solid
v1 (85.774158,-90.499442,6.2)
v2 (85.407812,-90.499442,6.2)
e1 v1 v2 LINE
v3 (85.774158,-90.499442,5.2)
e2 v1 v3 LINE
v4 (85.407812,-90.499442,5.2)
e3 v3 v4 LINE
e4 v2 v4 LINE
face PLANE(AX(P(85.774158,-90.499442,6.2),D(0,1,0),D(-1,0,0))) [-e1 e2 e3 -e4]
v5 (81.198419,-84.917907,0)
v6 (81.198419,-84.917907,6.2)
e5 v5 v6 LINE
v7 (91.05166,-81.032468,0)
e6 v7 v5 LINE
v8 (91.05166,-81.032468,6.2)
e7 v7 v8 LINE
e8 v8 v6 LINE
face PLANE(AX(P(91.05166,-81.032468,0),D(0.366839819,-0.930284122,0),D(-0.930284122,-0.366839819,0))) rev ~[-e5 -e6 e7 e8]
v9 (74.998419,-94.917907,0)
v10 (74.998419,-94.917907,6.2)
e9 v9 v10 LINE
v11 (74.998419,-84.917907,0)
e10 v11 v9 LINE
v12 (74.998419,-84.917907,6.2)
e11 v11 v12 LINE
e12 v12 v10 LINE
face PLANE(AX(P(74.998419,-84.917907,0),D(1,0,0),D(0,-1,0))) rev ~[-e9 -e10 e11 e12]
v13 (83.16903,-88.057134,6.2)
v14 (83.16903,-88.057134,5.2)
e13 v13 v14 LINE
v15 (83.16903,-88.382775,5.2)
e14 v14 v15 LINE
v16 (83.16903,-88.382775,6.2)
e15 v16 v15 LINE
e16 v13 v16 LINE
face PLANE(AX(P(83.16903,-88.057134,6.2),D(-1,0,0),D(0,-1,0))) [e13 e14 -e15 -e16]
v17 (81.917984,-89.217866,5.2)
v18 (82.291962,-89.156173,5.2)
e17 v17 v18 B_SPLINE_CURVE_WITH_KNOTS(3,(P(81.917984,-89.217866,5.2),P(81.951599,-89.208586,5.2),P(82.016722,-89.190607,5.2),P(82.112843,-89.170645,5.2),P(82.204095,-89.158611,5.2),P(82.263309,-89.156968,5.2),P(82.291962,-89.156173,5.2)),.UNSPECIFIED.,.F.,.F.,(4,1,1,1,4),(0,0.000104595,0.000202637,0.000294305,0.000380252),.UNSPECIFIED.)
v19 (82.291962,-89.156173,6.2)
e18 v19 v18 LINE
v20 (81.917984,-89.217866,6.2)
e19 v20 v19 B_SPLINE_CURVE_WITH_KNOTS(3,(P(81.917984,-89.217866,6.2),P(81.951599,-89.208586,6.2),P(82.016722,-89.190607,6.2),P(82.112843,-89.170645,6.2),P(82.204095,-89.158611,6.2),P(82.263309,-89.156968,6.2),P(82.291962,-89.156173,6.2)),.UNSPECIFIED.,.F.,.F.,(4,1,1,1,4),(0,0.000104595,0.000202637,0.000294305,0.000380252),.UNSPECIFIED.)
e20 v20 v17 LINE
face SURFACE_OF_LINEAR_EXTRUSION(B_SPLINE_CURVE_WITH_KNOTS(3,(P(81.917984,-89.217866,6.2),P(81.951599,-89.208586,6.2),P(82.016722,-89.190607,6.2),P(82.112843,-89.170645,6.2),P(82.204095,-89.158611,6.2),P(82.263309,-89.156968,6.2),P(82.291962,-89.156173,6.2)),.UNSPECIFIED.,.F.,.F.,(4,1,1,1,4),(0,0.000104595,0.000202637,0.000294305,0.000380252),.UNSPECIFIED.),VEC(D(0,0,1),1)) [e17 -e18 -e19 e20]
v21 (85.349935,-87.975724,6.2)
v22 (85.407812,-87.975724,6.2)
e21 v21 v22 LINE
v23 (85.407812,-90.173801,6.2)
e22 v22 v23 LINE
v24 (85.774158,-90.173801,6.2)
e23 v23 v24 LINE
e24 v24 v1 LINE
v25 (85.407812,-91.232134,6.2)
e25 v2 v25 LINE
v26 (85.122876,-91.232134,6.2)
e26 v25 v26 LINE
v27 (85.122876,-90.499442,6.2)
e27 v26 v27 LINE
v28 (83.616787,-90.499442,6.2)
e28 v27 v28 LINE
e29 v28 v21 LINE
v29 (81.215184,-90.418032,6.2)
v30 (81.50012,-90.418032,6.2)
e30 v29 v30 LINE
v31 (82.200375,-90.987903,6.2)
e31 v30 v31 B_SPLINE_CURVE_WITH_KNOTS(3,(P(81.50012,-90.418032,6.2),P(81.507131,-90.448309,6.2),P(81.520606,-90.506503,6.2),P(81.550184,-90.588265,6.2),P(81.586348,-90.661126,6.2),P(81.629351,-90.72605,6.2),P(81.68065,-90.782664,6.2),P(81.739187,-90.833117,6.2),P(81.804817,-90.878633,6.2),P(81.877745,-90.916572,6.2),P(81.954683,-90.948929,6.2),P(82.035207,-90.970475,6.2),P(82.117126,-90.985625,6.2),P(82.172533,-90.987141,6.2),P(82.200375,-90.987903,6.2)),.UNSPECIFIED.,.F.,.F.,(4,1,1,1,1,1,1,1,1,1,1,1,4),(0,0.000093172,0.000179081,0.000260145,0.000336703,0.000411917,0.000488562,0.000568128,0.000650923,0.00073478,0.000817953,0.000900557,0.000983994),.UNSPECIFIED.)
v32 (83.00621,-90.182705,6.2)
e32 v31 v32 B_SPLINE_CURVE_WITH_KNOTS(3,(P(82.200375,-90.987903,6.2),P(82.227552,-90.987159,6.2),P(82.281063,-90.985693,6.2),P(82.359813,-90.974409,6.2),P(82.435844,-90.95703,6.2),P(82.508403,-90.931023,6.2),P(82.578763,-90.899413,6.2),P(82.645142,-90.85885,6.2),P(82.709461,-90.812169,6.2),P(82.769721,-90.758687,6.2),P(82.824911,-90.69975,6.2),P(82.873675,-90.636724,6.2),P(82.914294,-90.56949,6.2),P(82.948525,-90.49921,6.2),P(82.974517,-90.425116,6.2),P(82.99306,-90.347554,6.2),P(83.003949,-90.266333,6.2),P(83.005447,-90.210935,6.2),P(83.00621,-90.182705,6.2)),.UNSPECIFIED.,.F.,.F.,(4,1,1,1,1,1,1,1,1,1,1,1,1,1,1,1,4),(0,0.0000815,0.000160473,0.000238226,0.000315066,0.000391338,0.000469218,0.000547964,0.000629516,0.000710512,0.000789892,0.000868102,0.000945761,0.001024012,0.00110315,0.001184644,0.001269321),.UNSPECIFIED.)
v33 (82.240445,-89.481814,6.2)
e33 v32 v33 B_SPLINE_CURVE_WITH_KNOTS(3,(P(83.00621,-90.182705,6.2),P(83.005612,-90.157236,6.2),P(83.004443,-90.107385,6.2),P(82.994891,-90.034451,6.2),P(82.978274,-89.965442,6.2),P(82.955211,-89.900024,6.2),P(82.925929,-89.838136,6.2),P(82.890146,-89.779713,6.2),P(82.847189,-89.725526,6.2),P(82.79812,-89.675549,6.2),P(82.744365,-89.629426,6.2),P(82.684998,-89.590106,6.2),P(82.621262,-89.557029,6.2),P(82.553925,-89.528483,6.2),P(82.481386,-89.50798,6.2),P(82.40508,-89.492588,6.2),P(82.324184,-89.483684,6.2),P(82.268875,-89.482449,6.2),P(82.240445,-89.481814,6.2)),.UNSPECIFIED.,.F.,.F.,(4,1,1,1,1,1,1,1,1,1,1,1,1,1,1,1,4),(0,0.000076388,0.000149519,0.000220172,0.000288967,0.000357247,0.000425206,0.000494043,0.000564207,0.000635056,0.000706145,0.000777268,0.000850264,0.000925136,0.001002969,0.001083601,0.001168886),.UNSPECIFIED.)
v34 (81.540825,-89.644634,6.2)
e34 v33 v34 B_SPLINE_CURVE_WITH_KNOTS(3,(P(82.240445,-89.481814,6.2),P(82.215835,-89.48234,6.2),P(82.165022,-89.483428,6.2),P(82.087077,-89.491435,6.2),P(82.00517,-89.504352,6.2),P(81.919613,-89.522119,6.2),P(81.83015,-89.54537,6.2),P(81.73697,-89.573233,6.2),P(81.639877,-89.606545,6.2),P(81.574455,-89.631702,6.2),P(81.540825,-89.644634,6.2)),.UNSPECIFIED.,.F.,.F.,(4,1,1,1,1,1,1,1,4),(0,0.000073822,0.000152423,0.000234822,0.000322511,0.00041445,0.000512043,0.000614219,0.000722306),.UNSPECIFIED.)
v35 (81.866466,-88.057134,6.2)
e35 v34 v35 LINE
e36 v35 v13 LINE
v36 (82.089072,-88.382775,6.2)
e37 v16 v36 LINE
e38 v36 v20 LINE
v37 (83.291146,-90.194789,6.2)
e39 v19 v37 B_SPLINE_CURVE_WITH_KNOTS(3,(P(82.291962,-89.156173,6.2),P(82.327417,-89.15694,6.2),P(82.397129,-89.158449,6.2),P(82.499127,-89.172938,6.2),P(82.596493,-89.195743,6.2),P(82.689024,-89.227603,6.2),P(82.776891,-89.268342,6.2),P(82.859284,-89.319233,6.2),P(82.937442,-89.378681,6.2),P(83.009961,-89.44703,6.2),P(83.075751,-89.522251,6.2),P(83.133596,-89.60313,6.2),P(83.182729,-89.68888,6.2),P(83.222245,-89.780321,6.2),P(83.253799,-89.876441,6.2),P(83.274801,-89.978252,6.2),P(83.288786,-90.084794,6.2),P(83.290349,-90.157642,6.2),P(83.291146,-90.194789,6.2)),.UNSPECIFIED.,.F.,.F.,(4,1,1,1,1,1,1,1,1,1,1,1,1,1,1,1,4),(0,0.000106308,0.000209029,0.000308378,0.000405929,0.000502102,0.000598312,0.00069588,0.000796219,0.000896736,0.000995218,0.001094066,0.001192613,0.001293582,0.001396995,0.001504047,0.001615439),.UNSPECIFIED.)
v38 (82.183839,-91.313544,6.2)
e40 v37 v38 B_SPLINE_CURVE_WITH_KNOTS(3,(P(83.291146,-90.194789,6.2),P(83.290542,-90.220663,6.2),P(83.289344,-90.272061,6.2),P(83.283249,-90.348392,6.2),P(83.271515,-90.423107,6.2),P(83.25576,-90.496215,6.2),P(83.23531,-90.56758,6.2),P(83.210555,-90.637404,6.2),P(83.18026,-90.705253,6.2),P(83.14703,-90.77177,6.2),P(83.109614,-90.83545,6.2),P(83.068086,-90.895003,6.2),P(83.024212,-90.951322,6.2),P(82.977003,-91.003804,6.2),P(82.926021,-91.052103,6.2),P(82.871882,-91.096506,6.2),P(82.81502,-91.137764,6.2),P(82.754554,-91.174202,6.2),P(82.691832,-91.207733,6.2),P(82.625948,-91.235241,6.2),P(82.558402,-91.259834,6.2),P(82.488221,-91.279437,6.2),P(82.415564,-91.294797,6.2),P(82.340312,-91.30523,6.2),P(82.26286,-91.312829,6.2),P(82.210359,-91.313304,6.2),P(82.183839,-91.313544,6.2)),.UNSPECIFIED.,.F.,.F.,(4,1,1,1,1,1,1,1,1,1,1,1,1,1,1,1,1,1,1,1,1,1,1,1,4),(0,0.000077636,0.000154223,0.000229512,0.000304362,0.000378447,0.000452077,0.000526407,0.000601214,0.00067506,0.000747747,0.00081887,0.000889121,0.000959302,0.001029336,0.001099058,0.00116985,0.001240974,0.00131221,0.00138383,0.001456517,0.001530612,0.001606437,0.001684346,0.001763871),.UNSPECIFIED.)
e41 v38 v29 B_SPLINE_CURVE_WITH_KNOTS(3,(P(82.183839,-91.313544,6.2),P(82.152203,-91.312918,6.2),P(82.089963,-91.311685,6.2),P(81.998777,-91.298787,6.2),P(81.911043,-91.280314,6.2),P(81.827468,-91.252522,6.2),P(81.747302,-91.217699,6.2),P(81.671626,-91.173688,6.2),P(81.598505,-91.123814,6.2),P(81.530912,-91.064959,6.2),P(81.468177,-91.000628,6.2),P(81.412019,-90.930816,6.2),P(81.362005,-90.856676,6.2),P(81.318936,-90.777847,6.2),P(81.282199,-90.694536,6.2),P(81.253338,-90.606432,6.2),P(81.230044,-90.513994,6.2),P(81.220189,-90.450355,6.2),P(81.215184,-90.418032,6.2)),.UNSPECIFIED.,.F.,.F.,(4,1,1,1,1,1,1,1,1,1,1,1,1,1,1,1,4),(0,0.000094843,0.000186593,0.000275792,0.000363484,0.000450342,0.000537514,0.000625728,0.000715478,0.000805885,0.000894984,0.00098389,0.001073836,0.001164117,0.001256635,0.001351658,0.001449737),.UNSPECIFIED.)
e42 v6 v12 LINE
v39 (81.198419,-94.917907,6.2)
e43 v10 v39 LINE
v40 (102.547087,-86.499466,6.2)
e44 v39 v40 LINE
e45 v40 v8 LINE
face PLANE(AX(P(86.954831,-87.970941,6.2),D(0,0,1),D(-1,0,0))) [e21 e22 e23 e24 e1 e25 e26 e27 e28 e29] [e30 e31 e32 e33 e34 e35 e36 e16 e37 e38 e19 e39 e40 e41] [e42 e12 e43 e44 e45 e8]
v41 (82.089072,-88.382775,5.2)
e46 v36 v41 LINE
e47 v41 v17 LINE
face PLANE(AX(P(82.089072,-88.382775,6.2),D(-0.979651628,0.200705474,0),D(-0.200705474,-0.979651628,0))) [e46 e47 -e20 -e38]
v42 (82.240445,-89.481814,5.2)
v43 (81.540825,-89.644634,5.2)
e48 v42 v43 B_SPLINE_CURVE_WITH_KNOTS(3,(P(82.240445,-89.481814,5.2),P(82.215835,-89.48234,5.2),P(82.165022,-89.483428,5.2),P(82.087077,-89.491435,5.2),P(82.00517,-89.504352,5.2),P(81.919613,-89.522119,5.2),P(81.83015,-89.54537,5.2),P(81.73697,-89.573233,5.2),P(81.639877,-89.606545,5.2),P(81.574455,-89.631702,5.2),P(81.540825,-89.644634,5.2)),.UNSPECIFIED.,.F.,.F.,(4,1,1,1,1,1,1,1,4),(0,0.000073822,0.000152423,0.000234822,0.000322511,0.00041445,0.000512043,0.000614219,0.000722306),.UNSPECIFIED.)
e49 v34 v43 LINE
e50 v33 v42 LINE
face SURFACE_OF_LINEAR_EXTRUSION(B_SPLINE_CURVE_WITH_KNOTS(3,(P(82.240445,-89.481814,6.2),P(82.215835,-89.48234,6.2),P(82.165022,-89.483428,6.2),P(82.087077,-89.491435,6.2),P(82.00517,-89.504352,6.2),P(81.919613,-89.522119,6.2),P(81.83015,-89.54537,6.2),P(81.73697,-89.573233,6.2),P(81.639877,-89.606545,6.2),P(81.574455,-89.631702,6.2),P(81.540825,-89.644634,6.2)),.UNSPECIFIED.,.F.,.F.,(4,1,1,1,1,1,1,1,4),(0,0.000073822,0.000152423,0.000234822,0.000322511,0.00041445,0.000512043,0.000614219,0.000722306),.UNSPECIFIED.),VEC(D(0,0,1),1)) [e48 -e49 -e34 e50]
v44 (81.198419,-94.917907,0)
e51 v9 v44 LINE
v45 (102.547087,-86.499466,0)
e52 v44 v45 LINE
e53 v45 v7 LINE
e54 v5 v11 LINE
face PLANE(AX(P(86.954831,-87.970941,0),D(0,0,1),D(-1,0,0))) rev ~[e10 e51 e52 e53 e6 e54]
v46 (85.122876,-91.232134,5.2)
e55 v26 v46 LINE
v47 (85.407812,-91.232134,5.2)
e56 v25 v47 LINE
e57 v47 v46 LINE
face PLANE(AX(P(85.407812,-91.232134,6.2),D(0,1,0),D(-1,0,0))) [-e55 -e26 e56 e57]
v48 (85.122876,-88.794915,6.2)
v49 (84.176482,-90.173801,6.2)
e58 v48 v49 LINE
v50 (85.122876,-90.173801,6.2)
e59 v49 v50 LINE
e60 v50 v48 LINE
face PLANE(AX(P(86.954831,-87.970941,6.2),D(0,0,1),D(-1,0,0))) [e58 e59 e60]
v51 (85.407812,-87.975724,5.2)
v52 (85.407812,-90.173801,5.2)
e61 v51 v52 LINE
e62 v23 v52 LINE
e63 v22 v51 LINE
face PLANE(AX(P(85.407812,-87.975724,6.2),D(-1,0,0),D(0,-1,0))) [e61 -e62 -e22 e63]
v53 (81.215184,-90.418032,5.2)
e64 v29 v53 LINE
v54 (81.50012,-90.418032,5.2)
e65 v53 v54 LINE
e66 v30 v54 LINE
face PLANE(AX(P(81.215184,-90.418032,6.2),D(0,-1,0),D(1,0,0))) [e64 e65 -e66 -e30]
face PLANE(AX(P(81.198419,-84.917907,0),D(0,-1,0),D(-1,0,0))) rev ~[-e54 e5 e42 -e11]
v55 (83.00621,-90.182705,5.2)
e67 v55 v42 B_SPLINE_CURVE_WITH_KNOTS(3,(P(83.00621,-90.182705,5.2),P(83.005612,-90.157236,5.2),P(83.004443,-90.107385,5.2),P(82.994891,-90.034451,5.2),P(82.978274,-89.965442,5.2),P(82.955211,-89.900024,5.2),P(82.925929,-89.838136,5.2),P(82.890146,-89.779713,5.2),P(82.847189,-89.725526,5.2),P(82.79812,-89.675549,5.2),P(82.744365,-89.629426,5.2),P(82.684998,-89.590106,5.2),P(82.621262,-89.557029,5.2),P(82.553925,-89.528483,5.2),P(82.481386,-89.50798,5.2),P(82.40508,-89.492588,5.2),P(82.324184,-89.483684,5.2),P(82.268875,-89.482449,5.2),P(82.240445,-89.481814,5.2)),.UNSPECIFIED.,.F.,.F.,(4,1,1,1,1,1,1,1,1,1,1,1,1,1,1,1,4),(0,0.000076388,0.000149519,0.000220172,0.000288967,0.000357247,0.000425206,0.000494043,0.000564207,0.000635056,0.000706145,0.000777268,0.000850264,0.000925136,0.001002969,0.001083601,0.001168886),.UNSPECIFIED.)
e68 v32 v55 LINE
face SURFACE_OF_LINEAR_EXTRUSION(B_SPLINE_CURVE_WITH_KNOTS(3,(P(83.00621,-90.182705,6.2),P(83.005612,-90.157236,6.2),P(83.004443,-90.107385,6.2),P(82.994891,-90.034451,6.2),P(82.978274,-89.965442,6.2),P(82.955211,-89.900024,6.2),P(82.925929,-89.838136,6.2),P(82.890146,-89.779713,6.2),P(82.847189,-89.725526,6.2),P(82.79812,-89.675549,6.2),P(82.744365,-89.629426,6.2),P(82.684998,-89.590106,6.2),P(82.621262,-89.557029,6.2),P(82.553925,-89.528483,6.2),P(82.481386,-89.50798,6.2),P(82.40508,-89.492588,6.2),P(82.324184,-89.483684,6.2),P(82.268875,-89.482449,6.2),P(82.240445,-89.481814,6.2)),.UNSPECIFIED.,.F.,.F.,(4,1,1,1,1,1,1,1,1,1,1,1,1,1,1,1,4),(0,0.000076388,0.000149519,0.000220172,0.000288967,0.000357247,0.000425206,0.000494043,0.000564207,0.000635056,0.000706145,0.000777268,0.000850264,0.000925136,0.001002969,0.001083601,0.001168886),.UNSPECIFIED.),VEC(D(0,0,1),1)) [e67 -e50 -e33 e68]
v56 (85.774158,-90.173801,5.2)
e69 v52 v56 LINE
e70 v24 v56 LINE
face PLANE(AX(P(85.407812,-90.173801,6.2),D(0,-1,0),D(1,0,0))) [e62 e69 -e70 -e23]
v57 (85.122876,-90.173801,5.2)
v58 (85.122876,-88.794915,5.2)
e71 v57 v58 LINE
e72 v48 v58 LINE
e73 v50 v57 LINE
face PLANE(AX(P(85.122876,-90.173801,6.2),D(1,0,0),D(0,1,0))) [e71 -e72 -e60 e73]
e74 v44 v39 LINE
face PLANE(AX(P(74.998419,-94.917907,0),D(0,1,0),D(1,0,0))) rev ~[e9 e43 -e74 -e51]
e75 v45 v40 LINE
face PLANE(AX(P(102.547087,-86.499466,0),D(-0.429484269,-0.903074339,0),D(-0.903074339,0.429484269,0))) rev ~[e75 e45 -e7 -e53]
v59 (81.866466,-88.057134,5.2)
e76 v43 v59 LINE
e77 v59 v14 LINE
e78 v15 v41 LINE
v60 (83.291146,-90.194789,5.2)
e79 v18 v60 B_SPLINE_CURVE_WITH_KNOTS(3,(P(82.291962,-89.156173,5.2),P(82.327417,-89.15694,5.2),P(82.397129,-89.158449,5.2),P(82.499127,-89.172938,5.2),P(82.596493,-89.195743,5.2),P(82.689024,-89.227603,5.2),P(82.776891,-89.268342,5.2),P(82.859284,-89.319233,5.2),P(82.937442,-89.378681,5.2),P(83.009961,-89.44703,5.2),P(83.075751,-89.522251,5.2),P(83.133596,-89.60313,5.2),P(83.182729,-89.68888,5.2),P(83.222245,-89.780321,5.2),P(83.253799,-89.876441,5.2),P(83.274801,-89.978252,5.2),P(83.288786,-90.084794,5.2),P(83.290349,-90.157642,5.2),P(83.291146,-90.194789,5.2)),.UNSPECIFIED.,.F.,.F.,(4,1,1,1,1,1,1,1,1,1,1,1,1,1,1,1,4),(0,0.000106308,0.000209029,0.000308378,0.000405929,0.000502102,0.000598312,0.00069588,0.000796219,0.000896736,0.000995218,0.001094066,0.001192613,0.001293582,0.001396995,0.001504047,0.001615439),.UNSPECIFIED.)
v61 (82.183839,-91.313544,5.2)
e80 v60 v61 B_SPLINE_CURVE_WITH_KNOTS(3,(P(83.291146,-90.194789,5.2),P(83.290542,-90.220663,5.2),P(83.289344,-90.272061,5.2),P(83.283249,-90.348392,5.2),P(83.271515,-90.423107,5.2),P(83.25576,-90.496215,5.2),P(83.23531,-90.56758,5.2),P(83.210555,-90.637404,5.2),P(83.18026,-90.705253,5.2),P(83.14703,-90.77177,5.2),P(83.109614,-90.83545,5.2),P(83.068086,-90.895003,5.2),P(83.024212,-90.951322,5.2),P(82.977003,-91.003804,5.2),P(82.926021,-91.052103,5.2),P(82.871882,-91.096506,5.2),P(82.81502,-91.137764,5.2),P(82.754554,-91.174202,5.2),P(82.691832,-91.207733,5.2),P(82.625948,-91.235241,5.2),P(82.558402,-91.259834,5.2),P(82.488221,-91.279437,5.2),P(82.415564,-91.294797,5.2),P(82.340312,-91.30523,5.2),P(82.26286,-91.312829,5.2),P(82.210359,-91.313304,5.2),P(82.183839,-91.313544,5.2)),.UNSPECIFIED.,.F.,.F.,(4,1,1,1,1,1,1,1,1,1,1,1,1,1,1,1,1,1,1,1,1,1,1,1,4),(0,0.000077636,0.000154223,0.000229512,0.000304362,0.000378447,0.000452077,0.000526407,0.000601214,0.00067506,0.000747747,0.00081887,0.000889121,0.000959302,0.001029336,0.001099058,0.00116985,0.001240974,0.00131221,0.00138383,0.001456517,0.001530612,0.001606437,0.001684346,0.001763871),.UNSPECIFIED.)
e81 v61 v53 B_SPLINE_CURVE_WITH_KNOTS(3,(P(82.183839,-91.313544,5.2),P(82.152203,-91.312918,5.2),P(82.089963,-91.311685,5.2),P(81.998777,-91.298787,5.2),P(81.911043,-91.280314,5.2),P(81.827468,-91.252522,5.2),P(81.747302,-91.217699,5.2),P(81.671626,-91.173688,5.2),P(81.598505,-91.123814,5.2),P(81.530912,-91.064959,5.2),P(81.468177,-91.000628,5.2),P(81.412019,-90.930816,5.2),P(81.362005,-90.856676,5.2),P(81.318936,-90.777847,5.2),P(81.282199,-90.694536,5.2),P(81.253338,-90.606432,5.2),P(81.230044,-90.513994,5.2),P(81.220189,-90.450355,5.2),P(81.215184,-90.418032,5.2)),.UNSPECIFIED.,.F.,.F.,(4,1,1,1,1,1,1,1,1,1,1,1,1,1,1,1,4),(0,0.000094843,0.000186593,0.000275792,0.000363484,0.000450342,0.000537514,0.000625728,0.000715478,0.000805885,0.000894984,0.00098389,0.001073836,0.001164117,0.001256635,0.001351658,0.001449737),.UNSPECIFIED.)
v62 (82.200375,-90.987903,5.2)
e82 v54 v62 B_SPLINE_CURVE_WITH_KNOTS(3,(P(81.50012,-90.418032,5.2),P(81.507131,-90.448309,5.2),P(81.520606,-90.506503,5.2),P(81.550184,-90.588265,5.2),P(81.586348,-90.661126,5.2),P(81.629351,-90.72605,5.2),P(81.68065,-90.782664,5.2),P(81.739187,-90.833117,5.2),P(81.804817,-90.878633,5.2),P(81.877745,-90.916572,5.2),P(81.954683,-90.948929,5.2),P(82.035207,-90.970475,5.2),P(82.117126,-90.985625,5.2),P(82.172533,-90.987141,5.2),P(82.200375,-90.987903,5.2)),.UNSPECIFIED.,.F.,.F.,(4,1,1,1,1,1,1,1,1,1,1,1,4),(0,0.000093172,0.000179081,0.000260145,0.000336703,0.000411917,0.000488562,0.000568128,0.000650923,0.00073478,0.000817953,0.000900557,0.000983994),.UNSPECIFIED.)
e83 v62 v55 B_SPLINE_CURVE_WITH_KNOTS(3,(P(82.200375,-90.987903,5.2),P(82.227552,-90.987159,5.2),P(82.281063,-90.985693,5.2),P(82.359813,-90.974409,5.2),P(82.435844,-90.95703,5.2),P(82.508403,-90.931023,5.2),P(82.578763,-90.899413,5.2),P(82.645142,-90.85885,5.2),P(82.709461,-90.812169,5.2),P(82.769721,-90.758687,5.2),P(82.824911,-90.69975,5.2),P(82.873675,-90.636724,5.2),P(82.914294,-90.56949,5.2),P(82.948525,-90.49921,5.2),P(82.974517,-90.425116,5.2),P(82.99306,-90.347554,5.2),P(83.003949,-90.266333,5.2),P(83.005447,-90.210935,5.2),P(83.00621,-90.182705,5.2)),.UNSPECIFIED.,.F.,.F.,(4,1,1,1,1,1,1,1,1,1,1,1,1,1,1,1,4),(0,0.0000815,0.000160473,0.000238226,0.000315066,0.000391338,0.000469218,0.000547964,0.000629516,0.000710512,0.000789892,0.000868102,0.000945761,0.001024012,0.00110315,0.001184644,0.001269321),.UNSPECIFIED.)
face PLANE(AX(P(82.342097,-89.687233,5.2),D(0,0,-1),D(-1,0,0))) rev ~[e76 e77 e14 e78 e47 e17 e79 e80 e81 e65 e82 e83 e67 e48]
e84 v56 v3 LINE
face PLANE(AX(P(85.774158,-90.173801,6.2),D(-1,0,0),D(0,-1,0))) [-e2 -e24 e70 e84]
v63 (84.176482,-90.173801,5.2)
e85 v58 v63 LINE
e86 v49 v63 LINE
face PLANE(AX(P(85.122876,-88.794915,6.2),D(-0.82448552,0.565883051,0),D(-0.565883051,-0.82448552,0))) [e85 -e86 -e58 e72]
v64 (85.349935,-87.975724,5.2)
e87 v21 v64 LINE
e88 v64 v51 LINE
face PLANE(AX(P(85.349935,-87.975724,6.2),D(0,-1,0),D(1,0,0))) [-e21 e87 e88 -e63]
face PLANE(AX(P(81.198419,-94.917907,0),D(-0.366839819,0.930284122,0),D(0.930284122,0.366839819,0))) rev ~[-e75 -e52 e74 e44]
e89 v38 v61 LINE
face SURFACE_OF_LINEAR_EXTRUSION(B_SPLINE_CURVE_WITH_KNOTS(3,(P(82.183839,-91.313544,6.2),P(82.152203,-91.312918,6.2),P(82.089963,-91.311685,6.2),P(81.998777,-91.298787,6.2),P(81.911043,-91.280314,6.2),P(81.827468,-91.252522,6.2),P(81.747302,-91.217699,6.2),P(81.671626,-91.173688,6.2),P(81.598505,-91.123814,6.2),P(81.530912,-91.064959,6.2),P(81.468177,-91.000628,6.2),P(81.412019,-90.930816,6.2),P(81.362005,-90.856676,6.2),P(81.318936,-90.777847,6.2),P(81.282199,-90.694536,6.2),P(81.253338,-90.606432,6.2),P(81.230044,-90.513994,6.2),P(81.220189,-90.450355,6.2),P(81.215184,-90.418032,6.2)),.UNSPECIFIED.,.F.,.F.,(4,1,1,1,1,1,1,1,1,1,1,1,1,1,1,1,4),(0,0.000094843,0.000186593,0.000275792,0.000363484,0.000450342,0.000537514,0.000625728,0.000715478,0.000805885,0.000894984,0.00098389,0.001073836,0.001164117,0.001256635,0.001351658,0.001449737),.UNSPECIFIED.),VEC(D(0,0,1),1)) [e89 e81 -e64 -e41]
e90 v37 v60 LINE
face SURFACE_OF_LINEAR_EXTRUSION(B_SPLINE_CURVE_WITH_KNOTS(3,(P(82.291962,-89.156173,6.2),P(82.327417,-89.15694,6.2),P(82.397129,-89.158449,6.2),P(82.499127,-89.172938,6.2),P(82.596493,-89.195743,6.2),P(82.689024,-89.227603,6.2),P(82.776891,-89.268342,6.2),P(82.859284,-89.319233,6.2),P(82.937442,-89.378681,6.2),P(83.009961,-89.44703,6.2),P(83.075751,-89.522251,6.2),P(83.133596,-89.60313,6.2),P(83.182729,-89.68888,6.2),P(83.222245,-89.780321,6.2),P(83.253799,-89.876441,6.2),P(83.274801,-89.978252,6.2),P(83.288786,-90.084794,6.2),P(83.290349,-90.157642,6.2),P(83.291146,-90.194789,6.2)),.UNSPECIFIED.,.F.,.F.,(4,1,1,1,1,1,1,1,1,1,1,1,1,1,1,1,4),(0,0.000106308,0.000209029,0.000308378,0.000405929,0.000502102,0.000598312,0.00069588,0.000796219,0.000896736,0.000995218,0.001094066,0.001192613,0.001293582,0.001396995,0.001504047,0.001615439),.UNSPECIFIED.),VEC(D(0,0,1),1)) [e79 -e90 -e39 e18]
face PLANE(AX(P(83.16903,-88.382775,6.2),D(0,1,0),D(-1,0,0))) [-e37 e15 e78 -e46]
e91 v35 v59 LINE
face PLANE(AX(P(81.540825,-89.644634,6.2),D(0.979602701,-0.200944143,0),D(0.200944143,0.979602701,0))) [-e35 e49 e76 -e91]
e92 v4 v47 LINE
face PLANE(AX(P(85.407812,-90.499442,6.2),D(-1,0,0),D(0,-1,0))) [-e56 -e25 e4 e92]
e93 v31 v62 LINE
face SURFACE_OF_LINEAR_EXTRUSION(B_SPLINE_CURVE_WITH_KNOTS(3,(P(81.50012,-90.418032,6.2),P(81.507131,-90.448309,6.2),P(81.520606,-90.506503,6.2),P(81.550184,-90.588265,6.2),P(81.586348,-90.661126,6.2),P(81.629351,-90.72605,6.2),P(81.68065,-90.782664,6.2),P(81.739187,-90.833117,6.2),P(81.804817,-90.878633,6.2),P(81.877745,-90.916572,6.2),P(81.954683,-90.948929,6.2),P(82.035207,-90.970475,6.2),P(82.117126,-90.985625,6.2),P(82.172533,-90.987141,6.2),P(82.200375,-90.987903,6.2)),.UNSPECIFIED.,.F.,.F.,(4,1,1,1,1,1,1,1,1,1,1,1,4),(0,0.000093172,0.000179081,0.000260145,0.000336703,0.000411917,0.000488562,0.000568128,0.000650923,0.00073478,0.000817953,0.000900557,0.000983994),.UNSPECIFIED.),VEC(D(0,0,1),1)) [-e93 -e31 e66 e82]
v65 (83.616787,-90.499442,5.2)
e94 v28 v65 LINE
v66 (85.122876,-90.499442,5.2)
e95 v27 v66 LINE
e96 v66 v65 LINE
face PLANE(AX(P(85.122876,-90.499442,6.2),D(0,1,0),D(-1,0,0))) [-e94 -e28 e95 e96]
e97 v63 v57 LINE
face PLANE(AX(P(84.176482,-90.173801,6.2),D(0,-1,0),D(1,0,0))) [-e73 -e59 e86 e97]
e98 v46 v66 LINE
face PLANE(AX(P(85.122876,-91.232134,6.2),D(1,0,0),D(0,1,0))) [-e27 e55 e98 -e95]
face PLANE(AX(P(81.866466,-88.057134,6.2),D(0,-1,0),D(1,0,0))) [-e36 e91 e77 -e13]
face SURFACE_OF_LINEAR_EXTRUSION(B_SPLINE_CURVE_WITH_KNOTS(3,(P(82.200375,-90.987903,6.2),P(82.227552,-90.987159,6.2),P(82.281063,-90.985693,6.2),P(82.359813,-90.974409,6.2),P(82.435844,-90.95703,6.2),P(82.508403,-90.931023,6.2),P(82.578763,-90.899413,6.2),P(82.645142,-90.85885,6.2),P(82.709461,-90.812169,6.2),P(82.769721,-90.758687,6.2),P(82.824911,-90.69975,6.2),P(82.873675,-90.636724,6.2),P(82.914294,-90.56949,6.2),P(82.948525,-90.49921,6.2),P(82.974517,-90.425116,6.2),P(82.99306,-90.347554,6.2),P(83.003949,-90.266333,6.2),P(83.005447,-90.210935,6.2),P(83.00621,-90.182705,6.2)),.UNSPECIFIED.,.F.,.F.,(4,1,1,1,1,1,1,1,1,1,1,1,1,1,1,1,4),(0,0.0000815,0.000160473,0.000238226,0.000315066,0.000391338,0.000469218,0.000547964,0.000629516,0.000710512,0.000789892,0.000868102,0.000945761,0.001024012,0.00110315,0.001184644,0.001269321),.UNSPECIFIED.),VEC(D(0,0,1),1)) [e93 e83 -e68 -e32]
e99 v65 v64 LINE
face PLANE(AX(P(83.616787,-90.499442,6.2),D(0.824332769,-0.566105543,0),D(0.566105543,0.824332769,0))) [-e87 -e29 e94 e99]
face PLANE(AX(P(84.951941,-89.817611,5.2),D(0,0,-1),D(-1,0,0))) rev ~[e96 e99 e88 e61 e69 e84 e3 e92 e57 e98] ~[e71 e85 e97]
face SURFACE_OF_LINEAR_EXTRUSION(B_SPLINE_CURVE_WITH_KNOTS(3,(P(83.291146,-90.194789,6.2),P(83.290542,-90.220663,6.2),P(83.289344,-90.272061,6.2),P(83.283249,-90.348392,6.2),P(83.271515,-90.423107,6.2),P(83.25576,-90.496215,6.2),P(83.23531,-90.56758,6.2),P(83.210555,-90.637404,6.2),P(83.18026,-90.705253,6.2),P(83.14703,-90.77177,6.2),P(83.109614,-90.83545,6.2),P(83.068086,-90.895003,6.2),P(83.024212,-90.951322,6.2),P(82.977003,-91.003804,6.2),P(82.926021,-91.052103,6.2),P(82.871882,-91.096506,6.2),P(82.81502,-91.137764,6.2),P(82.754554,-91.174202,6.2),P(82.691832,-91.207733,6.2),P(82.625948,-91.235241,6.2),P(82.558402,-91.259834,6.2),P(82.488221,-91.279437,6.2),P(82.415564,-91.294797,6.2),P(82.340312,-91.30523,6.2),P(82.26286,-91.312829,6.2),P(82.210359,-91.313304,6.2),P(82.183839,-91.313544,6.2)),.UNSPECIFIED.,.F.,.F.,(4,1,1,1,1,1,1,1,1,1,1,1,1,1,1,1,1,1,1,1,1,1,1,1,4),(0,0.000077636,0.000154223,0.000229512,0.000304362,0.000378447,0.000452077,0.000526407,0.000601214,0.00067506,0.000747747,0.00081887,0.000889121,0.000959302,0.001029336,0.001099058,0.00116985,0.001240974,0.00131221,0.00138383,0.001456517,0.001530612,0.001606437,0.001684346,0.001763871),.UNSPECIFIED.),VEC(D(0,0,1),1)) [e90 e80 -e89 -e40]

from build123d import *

# Parameters (mm, degrees)
BOSS_EXTRUDE1_DEPTH = 6.2
CUT_EXTRUDE1_DEPTH  = 1


with BuildPart() as part:
    # Sketch1 → Boss-Extrude1 (new body)
    with BuildSketch(Plane(origin=(0, 0, 0), x_dir=(-1, 0, 0), z_dir=(0, 0, 1))):
        Polygon((-81.198418694, 94.917906577), (-102.547087364, 86.499465833), (-91.051660388, 81.032468444), (-81.198418694, 84.917906577), (-74.998418694, 84.917906577), (-74.998418694, 94.917906577), align=None)
    extrude(amount=BOSS_EXTRUDE1_DEPTH)

    # Sketch2 → Cut-Extrude1 (cut)
    with BuildSketch(Plane.XY.offset(6.2)):
        with BuildLine():
            Line((83.169030289, -88.057134239), (83.169030289, -88.382775265))
            Line((83.169030289, -88.382775265), (82.089072356, -88.382775265))
            Line((82.089072356, -88.382775265), (81.917983614, -89.217866411))
            add(Edge.make_bspline(
                [(81.917983614, -89.217866411), (81.951598586, -89.208586093), (82.016722277, -89.190606945), (82.112843008, -89.170644567), (82.204094507, -89.158610914), (82.263308593, -89.156967797), (82.291961979, -89.156172701)],
                knots=[0, 0, 0, 0, 0.000104595, 0.000202637, 0.000294305, 0.000380252, 0.000380252, 0.000380252, 0.000380252], degree=3))
            add(Edge.make_bspline(
                [(82.291961979, -89.156172701), (82.327416515, -89.156940085), (82.397128989, -89.158448955), (82.499127177, -89.172937704), (82.596493445, -89.195743198), (82.689024166, -89.227602529), (82.776890523, -89.268342072), (82.859284096, -89.319232733), (82.937441632, -89.378680826), (83.009960985, -89.447029515), (83.075750893, -89.522251268), (83.133595755, -89.603130193), (83.182728962, -89.688880287), (83.222244789, -89.780320839), (83.25379915, -89.876440928), (83.274801317, -89.978251914), (83.288786474, -90.084794137), (83.290348924, -90.157641854), (83.291145673, -90.194789488)],
                knots=[0, 0, 0, 0, 0.000106308, 0.000209029, 0.000308378, 0.000405929, 0.000502102, 0.000598312, 0.00069588, 0.000796219, 0.000896736, 0.000995218, 0.001094066, 0.001192613, 0.001293582, 0.001396995, 0.001504047, 0.001615439, 0.001615439, 0.001615439, 0.001615439], degree=3))
            add(Edge.make_bspline(
                [(83.291145673, -90.194789488), (83.290542355, -90.220663216), (83.289343872, -90.272061012), (83.283249153, -90.348391823), (83.271514611, -90.423106678), (83.255759604, -90.496215491), (83.23531041, -90.56757985), (83.21055534, -90.637404022), (83.180260372, -90.705253415), (83.147030482, -90.771770023), (83.109614034, -90.835450098), (83.068086388, -90.895003107), (83.024211978, -90.95132242), (82.977003007, -91.00380402), (82.926020676, -91.052103044), (82.87188242, -91.096506128), (82.815020239, -91.137764191), (82.754554412, -91.174202483), (82.691832303, -91.207733164), (82.625948134, -91.235240945), (82.558401642, -91.259834067), (82.488220647, -91.279436995), (82.415564117, -91.294797241), (82.340312285, -91.305229929), (82.26285982, -91.312828554), (82.210358916, -91.313304221), (82.183838983, -91.313544496)],
                knots=[0, 0, 0, 0, 7.7636e-05, 0.000154223, 0.000229512, 0.000304362, 0.000378447, 0.000452077, 0.000526407, 0.000601214, 0.00067506, 0.000747747, 0.00081887, 0.000889121, 0.000959302, 0.001029336, 0.001099058, 0.00116985, 0.001240974, 0.00131221, 0.00138383, 0.001456517, 0.001530612, 0.001606437, 0.001684346, 0.001763871, 0.001763871, 0.001763871, 0.001763871], degree=3))
            add(Edge.make_bspline(
                [(82.183838983, -91.313544496), (82.152203119, -91.312917807), (82.089963294, -91.311684871), (81.998776779, -91.298786674), (81.911042816, -91.280313692), (81.827467652, -91.252522219), (81.747302292, -91.217699459), (81.671625969, -91.17368836), (81.598505015, -91.123814459), (81.530911953, -91.06495871), (81.468177479, -91.000628056), (81.412019432, -90.930816481), (81.362005401, -90.856676202), (81.318936302, -90.777847162), (81.282198811, -90.694536495), (81.253338072, -90.606432058), (81.230044136, -90.513994197), (81.220189462, -90.450354942), (81.215184135, -90.418031675)],
                knots=[0, 0, 0, 0, 9.4843e-05, 0.000186593, 0.000275792, 0.000363484, 0.000450342, 0.000537514, 0.000625728, 0.000715478, 0.000805885, 0.000894984, 0.00098389, 0.001073836, 0.001164117, 0.001256635, 0.001351658, 0.001449737, 0.001449737, 0.001449737, 0.001449737], degree=3))
            Line((81.215184135, -90.418031675), (81.500120032, -90.418031675))
            add(Edge.make_bspline(
                [(81.500120032, -90.418031675), (81.507130938, -90.448308886), (81.520606288, -90.506503365), (81.55018436, -90.588265368), (81.586348404, -90.661126378), (81.62935092, -90.726050214), (81.680649876, -90.78266409), (81.739187287, -90.833116711), (81.804817007, -90.878632721), (81.877745151, -90.916571945), (81.95468273, -90.9489286), (82.035207271, -90.970474781), (82.117126214, -90.985624876), (82.172533021, -90.987141402), (82.200375441, -90.98790347)],
                knots=[0, 0, 0, 0, 9.3172e-05, 0.000179081, 0.000260145, 0.000336703, 0.000411917, 0.000488562, 0.000568128, 0.000650923, 0.00073478, 0.000817953, 0.000900557, 0.000983994, 0.000983994, 0.000983994, 0.000983994], degree=3))
            add(Edge.make_bspline(
                [(82.200375441, -90.98790347), (82.22755203, -90.987158907), (82.281062956, -90.985692857), (82.359813285, -90.974408896), (82.435843535, -90.957030242), (82.508403495, -90.931022588), (82.578762891, -90.899413451), (82.645141954, -90.858850489), (82.709460993, -90.812168901), (82.7697208, -90.758686815), (82.824910872, -90.699750021), (82.873675353, -90.636724099), (82.91429441, -90.569489531), (82.948524637, -90.499210314), (82.974517273, -90.425116194), (82.993060163, -90.347554414), (83.003948652, -90.266333396), (83.005446508, -90.210934808), (83.006209776, -90.182705153)],
                knots=[0, 0, 0, 0, 8.15e-05, 0.000160473, 0.000238226, 0.000315066, 0.000391338, 0.000469218, 0.000547964, 0.000629516, 0.000710512, 0.000789892, 0.000868102, 0.000945761, 0.001024012, 0.00110315, 0.001184644, 0.001269321, 0.001269321, 0.001269321, 0.001269321], degree=3))
            add(Edge.make_bspline(
                [(83.006209776, -90.182705153), (83.005612441, -90.157236435), (83.004443243, -90.107385045), (82.994890511, -90.034451479), (82.978274401, -89.965442362), (82.955211309, -89.900024449), (82.925929185, -89.838136041), (82.890145744, -89.779713265), (82.847189447, -89.725526145), (82.798120377, -89.675549328), (82.744364868, -89.629425763), (82.684998045, -89.590106485), (82.621262254, -89.557028502), (82.553925403, -89.528482533), (82.481385817, -89.507980428), (82.405080014, -89.492588132), (82.324184001, -89.483684196), (82.268874876, -89.482448768), (82.240444552, -89.481813727)],
                knots=[0, 0, 0, 0, 7.6388e-05, 0.000149519, 0.000220172, 0.000288967, 0.000357247, 0.000425206, 0.000494043, 0.000564207, 0.000635056, 0.000706145, 0.000777268, 0.000850264, 0.000925136, 0.001002969, 0.001083601, 0.001168886, 0.001168886, 0.001168886, 0.001168886], degree=3))
            add(Edge.make_bspline(
                [(82.240444552, -89.481813727), (82.215834738, -89.482340406), (82.165021715, -89.483427864), (82.087077437, -89.491434758), (82.005169945, -89.504351832), (81.919613224, -89.522119357), (81.830150335, -89.545370405), (81.736970071, -89.573232845), (81.639876515, -89.606544944), (81.574455436, -89.631702023), (81.540825161, -89.644634239)],
                knots=[0, 0, 0, 0, 7.3822e-05, 0.000152423, 0.000234822, 0.000322511, 0.00041445, 0.000512043, 0.000614219, 0.000722306, 0.000722306, 0.000722306, 0.000722306], degree=3))
            Line((81.540825161, -89.644634239), (81.866466186, -88.057134239))
            Line((81.866466186, -88.057134239), (83.169030289, -88.057134239))
        make_face()
        Polygon((85.349934736, -87.975723983), (85.40781234, -87.975723983), (85.40781234, -90.173800906), (85.774158494, -90.173800906), (85.774158494, -90.499441932), (85.40781234, -90.499441932), (85.40781234, -91.232134239), (85.122876443, -91.232134239), (85.122876443, -90.499441932), (83.616786699, -90.499441932), align=None)
        Polygon((85.122876443, -90.173800906), (85.122876443, -88.794914688), (84.176482212, -90.173800906), align=None, mode=Mode.SUBTRACT)
    extrude(amount=-CUT_EXTRUDE1_DEPTH, mode=Mode.SUBTRACT)


solid = part.part
